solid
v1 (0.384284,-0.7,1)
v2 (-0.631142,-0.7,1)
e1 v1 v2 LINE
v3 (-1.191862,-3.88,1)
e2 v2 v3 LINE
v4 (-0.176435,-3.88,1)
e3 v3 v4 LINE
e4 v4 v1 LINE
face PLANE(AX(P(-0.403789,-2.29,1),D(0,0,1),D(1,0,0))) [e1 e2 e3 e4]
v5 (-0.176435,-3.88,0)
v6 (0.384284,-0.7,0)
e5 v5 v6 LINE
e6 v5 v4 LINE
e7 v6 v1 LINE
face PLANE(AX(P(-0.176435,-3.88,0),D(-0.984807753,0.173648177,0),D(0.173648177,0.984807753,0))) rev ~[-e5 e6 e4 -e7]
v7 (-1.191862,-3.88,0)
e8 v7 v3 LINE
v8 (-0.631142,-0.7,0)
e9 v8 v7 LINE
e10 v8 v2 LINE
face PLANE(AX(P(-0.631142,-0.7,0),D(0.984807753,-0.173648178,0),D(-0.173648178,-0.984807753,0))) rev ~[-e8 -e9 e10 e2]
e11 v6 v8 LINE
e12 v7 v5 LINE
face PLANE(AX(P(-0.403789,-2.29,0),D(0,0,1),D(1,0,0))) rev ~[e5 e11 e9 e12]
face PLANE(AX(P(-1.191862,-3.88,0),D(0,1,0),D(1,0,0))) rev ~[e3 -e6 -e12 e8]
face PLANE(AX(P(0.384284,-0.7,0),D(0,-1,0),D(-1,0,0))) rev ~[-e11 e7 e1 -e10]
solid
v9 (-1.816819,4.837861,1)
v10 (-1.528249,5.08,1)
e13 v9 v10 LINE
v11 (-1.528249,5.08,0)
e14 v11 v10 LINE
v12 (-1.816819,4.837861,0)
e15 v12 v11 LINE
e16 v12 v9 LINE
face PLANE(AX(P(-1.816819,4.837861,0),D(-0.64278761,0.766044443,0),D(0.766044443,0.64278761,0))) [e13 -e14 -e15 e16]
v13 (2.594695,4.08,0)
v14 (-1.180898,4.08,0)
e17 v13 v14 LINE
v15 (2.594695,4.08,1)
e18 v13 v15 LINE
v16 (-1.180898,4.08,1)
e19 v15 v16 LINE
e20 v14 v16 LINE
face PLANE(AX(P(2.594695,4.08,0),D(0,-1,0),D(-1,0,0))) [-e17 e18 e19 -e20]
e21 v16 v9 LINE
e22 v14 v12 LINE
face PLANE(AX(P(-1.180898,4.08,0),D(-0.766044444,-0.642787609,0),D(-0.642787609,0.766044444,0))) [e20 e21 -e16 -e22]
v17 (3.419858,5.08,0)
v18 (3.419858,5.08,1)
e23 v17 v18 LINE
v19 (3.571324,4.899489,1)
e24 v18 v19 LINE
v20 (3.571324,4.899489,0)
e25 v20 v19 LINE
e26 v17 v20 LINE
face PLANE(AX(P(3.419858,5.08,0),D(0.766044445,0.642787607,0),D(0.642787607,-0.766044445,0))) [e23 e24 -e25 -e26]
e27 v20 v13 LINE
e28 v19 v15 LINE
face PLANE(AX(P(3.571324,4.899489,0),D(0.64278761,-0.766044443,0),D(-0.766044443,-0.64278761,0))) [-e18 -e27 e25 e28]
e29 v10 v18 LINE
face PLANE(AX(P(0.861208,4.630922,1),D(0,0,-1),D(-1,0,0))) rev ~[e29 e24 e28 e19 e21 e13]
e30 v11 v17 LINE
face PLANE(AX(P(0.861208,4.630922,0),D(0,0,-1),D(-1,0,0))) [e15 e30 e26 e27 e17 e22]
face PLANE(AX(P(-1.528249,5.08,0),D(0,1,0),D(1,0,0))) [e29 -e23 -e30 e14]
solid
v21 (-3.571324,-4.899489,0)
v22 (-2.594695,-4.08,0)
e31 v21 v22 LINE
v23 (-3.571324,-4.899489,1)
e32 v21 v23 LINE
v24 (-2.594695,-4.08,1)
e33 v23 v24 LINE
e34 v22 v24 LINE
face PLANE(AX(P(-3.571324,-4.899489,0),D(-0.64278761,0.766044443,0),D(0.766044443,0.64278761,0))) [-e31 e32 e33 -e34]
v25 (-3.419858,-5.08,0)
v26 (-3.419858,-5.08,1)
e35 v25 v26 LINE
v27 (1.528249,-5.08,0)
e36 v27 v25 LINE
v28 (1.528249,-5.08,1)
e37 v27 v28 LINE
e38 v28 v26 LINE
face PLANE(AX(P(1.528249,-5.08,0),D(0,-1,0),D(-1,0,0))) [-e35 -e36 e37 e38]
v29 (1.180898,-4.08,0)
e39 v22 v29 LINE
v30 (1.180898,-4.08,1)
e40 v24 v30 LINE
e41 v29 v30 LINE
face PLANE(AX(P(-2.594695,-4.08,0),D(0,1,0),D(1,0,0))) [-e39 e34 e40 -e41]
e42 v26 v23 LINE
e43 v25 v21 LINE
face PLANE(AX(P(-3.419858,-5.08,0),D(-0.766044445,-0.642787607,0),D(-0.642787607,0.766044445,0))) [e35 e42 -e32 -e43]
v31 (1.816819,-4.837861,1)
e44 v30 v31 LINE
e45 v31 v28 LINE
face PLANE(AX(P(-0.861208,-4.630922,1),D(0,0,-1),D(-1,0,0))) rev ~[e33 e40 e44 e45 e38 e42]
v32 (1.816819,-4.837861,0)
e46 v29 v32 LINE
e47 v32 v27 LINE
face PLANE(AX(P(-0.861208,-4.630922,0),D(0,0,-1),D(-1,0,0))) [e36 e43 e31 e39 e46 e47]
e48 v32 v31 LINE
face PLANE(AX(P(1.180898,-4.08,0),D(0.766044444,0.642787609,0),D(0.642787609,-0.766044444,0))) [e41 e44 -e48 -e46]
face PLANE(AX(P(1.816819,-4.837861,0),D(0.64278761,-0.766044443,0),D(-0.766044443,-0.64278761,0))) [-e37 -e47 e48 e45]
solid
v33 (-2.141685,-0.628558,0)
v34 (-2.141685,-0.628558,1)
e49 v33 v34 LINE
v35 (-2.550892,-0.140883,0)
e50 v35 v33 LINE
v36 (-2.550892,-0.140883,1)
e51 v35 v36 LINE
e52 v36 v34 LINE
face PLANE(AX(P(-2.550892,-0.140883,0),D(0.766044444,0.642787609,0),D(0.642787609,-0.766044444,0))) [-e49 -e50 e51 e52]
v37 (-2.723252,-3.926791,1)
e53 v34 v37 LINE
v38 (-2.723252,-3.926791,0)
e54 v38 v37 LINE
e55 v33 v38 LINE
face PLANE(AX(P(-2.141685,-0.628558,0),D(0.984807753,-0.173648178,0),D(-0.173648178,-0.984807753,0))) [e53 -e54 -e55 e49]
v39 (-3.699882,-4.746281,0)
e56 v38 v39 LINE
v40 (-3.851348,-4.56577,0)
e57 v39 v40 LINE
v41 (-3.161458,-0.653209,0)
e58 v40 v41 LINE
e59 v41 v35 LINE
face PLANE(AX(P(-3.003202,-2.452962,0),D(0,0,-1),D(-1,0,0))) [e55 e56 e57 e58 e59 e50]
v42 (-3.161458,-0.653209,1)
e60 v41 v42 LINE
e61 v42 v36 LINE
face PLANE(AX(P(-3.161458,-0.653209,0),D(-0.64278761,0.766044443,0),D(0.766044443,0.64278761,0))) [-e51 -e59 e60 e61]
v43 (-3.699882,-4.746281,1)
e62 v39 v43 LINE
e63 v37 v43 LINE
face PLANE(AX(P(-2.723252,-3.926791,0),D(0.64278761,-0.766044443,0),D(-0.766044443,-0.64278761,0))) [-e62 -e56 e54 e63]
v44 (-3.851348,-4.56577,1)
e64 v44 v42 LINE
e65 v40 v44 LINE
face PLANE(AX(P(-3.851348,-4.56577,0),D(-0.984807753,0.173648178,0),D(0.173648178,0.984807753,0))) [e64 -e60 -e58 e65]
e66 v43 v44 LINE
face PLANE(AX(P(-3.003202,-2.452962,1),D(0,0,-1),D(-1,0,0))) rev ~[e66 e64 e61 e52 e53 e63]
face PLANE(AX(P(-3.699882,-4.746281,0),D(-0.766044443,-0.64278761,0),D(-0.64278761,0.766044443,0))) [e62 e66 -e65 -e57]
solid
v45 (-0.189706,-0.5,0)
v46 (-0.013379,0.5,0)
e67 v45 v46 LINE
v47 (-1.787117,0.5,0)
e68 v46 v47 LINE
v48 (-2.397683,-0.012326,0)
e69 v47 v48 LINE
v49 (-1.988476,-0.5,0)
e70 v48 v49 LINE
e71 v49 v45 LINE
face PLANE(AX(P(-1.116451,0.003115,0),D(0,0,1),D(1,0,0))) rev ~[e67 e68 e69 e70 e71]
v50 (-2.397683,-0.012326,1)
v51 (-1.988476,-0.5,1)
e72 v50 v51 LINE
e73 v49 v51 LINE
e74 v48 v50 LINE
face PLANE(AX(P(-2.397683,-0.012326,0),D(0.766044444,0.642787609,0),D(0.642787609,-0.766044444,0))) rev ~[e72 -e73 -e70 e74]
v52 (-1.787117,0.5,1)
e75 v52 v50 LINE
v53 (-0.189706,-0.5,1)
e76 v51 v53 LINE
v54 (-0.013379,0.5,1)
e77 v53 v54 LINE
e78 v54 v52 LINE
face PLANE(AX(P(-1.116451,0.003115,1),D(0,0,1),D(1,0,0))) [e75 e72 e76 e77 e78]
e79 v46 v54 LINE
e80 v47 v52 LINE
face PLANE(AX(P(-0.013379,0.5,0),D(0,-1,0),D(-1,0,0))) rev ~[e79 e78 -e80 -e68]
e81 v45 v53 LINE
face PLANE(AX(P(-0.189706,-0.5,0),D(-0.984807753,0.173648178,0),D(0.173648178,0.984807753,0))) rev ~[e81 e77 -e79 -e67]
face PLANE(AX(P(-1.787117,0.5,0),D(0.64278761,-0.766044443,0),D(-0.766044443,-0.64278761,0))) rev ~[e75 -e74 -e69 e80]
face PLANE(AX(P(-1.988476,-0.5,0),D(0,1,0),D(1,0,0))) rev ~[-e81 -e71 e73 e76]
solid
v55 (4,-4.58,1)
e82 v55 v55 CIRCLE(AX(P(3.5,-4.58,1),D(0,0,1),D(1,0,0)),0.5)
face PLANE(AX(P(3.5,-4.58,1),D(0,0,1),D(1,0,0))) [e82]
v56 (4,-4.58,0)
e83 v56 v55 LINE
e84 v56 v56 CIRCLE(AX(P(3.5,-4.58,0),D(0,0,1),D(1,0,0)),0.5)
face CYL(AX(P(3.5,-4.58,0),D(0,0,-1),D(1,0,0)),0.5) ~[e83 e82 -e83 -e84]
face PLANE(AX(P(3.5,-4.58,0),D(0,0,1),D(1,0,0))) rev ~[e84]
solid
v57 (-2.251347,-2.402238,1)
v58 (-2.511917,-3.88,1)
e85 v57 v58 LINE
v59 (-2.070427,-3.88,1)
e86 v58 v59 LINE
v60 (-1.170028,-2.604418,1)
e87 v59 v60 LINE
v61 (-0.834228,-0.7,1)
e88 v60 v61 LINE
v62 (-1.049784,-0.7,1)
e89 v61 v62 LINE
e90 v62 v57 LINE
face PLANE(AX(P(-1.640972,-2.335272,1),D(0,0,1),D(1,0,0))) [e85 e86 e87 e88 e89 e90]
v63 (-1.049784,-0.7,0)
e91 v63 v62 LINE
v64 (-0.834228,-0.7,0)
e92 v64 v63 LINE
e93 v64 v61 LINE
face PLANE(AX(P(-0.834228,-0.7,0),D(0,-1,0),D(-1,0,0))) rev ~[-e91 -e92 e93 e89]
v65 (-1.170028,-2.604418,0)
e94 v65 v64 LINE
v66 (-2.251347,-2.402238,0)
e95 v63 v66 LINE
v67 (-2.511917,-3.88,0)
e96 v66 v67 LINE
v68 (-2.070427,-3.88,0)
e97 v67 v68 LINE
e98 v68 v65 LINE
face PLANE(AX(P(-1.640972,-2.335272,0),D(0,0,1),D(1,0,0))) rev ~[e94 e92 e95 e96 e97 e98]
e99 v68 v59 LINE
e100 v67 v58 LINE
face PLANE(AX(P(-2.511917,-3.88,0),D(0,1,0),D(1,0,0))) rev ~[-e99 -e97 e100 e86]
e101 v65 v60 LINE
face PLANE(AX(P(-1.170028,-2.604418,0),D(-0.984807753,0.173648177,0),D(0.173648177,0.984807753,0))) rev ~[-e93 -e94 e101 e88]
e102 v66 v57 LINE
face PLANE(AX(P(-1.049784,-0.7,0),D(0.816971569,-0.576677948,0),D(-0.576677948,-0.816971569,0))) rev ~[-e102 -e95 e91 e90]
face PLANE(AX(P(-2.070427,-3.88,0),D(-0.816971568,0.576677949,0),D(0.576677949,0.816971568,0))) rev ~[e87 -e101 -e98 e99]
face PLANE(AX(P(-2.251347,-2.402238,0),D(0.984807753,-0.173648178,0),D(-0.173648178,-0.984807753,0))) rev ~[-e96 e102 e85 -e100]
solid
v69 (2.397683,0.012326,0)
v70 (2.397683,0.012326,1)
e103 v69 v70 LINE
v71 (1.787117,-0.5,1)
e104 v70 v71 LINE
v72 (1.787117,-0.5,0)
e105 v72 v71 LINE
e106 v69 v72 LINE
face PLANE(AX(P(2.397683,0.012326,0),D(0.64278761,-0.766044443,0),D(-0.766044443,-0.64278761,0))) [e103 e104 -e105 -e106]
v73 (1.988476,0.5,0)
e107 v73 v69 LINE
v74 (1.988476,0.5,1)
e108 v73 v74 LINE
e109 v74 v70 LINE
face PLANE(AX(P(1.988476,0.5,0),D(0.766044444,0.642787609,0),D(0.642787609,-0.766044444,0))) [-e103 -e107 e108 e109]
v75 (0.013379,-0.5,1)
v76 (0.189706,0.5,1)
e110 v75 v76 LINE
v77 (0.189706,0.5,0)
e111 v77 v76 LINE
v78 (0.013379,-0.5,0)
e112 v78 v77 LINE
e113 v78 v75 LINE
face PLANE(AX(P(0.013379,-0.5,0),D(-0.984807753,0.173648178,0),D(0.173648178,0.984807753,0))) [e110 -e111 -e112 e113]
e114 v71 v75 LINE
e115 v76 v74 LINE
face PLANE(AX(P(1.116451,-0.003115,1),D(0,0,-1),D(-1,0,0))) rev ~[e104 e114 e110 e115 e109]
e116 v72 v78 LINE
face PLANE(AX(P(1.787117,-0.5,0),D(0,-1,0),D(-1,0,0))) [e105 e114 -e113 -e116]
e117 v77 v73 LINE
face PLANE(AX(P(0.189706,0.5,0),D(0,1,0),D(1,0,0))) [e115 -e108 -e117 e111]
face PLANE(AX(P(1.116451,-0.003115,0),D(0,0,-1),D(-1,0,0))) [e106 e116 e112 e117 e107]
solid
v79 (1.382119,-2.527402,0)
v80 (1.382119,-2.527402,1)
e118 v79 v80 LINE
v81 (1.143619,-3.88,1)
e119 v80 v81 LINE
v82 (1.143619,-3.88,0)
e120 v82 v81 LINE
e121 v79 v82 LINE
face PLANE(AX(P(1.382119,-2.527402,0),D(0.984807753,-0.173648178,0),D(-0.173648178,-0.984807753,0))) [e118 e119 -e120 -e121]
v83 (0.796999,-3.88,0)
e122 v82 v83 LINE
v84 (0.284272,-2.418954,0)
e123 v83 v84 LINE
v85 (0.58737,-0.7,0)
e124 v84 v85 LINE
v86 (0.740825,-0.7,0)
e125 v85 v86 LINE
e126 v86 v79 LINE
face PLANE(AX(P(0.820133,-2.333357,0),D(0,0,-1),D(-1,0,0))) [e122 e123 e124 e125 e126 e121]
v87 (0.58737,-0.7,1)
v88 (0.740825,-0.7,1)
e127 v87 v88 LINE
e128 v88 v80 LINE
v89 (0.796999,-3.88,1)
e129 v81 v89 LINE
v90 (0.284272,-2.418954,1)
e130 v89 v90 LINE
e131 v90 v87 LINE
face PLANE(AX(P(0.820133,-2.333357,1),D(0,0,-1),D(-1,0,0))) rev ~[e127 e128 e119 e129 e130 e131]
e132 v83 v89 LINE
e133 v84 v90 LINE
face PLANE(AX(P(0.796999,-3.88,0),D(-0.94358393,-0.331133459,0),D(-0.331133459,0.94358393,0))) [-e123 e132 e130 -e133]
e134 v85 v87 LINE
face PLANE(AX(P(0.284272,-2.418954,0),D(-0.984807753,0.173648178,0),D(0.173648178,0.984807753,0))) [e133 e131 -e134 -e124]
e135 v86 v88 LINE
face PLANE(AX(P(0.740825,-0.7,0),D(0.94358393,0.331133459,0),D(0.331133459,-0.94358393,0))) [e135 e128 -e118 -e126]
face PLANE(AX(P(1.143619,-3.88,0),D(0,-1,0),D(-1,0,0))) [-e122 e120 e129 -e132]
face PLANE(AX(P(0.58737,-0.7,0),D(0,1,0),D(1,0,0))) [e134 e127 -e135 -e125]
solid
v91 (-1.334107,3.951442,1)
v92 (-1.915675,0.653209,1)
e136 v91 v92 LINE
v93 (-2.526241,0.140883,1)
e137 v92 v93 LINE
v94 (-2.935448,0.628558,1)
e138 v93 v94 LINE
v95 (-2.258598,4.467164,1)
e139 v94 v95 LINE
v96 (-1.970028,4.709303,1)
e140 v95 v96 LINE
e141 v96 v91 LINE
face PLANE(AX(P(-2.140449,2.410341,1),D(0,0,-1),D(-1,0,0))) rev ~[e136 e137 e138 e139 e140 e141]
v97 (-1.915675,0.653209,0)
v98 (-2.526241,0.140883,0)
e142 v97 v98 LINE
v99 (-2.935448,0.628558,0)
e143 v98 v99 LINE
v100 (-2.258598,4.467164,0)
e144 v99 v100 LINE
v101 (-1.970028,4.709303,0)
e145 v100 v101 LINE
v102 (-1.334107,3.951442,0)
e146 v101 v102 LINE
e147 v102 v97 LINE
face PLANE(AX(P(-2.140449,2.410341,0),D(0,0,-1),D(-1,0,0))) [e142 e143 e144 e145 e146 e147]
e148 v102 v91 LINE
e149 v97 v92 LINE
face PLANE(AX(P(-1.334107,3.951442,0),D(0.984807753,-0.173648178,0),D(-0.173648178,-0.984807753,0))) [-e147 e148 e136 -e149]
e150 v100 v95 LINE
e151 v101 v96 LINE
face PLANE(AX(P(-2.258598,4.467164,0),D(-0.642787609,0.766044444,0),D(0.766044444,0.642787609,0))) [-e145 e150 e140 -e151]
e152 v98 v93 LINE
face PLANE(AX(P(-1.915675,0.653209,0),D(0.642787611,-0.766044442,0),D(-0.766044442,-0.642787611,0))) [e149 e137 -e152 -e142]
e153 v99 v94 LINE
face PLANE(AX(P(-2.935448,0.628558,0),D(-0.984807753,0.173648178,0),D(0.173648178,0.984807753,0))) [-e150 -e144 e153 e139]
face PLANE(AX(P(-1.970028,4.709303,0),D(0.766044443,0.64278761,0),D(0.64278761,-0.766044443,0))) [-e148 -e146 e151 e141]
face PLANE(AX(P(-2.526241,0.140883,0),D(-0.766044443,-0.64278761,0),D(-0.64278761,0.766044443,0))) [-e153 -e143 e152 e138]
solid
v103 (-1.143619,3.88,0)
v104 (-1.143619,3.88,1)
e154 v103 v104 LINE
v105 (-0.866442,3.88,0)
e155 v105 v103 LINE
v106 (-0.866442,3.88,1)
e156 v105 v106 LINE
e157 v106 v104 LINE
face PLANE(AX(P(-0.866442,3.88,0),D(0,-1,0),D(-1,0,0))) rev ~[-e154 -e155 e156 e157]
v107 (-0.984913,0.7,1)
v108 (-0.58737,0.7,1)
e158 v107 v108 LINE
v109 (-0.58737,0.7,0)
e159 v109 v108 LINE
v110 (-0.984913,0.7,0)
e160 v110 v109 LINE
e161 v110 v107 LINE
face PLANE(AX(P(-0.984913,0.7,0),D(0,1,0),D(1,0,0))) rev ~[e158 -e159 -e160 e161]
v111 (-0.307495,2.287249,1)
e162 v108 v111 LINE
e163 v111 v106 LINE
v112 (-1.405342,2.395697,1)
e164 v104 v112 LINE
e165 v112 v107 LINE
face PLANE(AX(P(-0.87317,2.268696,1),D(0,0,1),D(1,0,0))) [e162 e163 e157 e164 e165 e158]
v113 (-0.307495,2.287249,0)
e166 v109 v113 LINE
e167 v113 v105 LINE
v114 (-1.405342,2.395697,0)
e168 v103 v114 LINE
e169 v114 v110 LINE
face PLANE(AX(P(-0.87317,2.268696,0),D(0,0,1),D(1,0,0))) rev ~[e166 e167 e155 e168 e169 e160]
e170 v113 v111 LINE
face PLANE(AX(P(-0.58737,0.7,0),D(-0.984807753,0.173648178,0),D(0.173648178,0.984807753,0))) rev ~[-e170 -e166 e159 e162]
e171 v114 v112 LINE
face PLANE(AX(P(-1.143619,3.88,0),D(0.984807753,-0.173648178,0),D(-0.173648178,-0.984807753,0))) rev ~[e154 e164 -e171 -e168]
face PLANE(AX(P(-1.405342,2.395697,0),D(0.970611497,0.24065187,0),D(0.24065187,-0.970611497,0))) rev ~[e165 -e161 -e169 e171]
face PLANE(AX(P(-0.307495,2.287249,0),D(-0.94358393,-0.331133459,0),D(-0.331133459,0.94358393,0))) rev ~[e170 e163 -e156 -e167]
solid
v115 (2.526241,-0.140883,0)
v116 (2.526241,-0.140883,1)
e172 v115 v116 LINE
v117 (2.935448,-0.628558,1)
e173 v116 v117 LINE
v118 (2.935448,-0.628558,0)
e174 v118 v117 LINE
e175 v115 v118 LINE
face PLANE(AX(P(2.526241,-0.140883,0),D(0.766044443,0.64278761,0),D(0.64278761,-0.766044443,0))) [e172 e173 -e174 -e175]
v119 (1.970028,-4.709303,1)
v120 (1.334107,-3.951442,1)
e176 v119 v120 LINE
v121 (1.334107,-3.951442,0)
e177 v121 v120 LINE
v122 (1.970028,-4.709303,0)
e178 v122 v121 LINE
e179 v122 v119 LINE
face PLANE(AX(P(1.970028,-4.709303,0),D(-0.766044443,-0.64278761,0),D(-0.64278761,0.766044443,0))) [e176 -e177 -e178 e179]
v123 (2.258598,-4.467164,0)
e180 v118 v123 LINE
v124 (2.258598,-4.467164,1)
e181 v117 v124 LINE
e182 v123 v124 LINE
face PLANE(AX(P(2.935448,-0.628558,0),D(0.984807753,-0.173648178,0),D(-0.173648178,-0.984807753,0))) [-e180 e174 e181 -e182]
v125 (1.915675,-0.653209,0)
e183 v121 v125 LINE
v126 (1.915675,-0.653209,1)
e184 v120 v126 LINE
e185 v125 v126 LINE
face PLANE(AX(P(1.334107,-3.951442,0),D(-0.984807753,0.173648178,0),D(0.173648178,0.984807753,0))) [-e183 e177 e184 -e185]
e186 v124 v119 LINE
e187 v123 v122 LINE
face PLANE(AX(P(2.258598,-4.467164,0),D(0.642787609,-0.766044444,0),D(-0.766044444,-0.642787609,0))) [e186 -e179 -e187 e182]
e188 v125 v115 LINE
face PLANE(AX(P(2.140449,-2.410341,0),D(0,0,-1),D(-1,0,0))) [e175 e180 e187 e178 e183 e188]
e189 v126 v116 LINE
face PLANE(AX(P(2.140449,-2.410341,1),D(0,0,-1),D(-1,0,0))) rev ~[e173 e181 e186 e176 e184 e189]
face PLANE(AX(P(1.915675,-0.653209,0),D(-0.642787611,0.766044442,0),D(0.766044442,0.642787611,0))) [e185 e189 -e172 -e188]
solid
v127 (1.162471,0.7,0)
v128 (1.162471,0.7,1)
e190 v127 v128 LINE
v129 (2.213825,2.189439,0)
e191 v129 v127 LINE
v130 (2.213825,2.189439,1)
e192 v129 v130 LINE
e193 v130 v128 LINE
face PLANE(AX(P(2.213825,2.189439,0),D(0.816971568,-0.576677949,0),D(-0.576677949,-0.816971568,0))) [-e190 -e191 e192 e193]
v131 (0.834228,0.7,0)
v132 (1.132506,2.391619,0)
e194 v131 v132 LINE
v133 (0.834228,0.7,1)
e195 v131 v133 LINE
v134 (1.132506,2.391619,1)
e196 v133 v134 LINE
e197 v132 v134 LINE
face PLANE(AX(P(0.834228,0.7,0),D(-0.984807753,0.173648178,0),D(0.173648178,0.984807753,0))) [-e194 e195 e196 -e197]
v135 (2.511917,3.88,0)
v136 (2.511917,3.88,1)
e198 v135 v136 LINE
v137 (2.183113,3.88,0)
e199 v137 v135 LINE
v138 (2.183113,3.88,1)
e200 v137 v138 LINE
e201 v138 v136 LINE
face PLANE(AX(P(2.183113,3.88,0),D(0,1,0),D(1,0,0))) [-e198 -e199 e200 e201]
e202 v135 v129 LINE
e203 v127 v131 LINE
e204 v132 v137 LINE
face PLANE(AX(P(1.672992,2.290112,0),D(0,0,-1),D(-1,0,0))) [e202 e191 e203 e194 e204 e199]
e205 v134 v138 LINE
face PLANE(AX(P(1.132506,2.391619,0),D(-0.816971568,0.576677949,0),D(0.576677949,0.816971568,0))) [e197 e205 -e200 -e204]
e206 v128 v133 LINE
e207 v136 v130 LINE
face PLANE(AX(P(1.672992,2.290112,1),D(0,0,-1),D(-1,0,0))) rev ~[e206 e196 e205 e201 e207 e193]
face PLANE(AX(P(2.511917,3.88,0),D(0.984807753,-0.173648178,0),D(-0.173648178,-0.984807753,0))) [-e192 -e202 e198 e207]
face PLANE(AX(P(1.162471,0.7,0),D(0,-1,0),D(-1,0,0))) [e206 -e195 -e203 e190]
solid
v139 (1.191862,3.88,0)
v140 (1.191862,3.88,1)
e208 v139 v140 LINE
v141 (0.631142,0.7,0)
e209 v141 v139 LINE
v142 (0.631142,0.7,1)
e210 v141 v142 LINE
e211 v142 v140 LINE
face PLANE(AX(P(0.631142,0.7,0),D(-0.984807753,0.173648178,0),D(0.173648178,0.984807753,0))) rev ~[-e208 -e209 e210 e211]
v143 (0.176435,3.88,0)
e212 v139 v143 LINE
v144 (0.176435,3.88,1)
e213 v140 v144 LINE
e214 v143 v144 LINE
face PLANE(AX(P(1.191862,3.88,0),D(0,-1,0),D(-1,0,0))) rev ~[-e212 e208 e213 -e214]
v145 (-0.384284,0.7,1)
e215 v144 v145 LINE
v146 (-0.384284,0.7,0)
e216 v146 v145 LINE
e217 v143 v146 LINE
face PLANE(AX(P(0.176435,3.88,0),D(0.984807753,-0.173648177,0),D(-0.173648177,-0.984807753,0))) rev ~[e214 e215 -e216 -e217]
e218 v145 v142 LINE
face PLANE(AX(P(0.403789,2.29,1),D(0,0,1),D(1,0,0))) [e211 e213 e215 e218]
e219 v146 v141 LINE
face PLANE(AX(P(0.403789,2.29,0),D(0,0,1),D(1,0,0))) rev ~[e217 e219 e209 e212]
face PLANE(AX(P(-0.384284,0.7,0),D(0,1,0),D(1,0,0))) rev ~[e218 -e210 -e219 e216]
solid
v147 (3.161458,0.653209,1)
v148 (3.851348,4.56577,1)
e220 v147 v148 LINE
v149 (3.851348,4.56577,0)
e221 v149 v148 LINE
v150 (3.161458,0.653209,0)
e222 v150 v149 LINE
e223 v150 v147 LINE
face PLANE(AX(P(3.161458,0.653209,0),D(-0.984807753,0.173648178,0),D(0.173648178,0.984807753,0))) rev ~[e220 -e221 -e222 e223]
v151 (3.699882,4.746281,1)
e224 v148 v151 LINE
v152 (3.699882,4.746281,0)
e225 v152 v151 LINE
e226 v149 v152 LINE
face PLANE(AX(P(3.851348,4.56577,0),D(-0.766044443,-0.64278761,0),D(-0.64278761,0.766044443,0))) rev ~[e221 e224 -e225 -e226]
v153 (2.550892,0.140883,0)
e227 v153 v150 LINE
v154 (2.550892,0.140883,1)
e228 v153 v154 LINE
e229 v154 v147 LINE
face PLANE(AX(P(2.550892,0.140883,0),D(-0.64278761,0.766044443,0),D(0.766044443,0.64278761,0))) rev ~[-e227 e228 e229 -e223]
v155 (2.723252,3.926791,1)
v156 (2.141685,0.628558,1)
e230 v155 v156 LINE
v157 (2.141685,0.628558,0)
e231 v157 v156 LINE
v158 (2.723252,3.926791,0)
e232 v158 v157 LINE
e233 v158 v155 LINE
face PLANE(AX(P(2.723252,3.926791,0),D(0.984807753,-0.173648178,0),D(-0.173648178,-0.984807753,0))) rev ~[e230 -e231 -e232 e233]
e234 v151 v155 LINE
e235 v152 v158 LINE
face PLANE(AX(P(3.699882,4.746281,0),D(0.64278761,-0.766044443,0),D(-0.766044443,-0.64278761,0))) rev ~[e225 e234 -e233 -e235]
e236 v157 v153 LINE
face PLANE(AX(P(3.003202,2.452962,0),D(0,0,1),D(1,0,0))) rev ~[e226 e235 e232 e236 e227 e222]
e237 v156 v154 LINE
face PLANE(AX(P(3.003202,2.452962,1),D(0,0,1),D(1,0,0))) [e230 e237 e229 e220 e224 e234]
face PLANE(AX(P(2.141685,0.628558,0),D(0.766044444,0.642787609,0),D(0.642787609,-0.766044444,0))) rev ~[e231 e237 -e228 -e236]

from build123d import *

# Parameters (mm, degrees)
EXTRUDE_1_DEPTH   = 1
EXTRUDE_1_2_DEPTH = 1
EXTRUDE_1_3_DEPTH = 1
EXTRUDE_1_4_DEPTH = 1
EXTRUDE_1_5_DEPTH = 1
EXTRUDE_1_6_DEPTH = 1
EXTRUDE_1_7_DEPTH = 1
EXTRUDE_1_8_DEPTH = 1
EXTRUDE_2_DEPTH   = 1
EXTRUDE_2_2_DEPTH = 1
SKETCH_8_R        = 0.5
EXTRUDE_3_DEPTH   = 1
EXTRUDE_4_DEPTH   = 1
EXTRUDE_4_2_DEPTH = 1
EXTRUDE_4_3_DEPTH = 1
EXTRUDE_4_4_DEPTH = 1


with BuildPart() as part:
    # Эскиз5 → Бобышка-Вытянуть1 (new body)
    with BuildSketch(Plane.XY):
        Polygon((-2.935448186, 0.628557522), (-2.258598217, 4.467164446), (-1.970028174, 4.709303462), (-1.334107302, 3.951442478), (-1.915674873, 0.653208889), (-2.526240846, 0.140883205), align=None)
    extrude(amount=EXTRUDE_1_DEPTH)


with BuildPart() as body_2:
    # Эскиз5 → Extrude 1 2 (new body)
    with BuildSketch(Plane.XY):
        Polygon((-3.161458187, -0.653208889), (-2.550892213, -0.140883205), (-2.141684874, -0.628557522), (-2.723252444, -3.926791111), (-3.699881881, -4.746280512), (-3.851348259, -4.565769912), align=None)
    extrude(amount=EXTRUDE_1_2_DEPTH)


with BuildPart() as body_3:
    # Эскиз5 → Extrude 1 3 (new body)
    with BuildSketch(Plane.XY):
        Polygon((-3.571324359, -4.8994894), (-2.594694922, -4.08), (1.180898414, -4.08), (1.816819285, -4.837860984), (1.528249243, -5.08), (-3.419857982, -5.08), align=None)
    extrude(amount=EXTRUDE_1_3_DEPTH)


with BuildPart() as body_4:
    # Эскиз5 → Extrude 1 4 (new body)
    with BuildSketch(Plane.XY):
        Polygon((1.915674873, -0.653208889), (2.526240846, -0.140883205), (2.935448186, -0.628557522), (2.258598217, -4.467164446), (1.970028174, -4.709303462), (1.334107302, -3.951442478), align=None)
    extrude(amount=EXTRUDE_1_4_DEPTH)


with BuildPart() as body_5:
    # Эскиз5 → Extrude 1 5 (new body)
    with BuildSketch(Plane.XY):
        Polygon((2.141684874, 0.628557522), (2.550892213, 0.140883205), (3.161458187, 0.653208889), (3.851348259, 4.565769912), (3.699881881, 4.746280512), (2.723252444, 3.926791111), align=None)
    extrude(amount=EXTRUDE_1_5_DEPTH)


with BuildPart() as body_6:
    # Эскиз5 → Extrude 1 6 (new body)
    with BuildSketch(Plane.XY):
        Polygon((-1.816819285, 4.837860984), (-1.528249243, 5.08), (3.419857982, 5.08), (3.571324359, 4.8994894), (2.594694922, 4.08), (-1.180898414, 4.08), align=None)
    extrude(amount=EXTRUDE_1_6_DEPTH)


with BuildPart() as body_7:
    # Эскиз5 → Extrude 1 7 (new body)
    with BuildSketch(Plane.XY):
        Polygon((-1.988475985, -0.5), (-0.189706152, -0.5), (-0.013379171, 0.5), (-1.787117351, 0.5), (-2.397683324, -0.012325683), align=None)
    extrude(amount=EXTRUDE_1_7_DEPTH)


with BuildPart() as body_8:
    # Эскиз5 → Extrude 1 8 (new body)
    with BuildSketch(Plane.XY):
        Polygon((0.189706152, 0.5), (1.988475985, 0.5), (2.397683324, 0.012325683), (1.787117351, -0.5), (0.013379171, -0.5), align=None)
    extrude(amount=EXTRUDE_1_8_DEPTH)


with BuildPart() as body_9:
    # Эскиз6 → Бобышка-Вытянуть2 (new body)
    with BuildSketch(Plane.XY):
        Polygon((-0.384284419, 0.7), (0.631142192, 0.7), (1.191861991, 3.88), (0.176435379, 3.88), align=None)
    extrude(amount=EXTRUDE_2_DEPTH)


with BuildPart() as body_10:
    # Эскиз6 → Extrude 2 2 (new body)
    with BuildSketch(Plane.XY):
        Polygon((-0.631142192, -0.7), (-1.191861991, -3.88), (-0.176435379, -3.88), (0.384284419, -0.7), align=None)
    extrude(amount=EXTRUDE_2_2_DEPTH)


with BuildPart() as body_11:
    # Эскиз8 → Бобышка-Вытянуть3 (new body)
    with BuildSketch(Plane.XY):
        with Locations((3.5, -4.58)):
            Circle(SKETCH_8_R)
    extrude(amount=EXTRUDE_3_DEPTH)


with BuildPart() as body_12:
    # Эскиз7 → Бобышка-Вытянуть4 (new body)
    with BuildSketch(Plane.XY):
        Polygon((-2.251347225, -2.40223772), (-2.511916587, -3.88), (-2.070426511, -3.88), (-1.170027732, -2.604417668), (-0.834227515, -0.7), (-1.049784045, -0.7), align=None)
    extrude(amount=EXTRUDE_4_DEPTH)


with BuildPart() as body_13:
    # Эскиз7 → Extrude 4 2 (new body)
    with BuildSketch(Plane.XY):
        Polygon((0.587369742, -0.7), (0.740825314, -0.7), (1.382118658, -2.52740245), (1.143619216, -3.88), (0.796998801, -3.88), (0.284271691, -2.418954467), align=None)
    extrude(amount=EXTRUDE_4_2_DEPTH)


with BuildPart() as body_14:
    # Эскиз7 → Extrude 4 3 (new body)
    with BuildSketch(Plane.XY):
        Polygon((2.183113044, 3.88), (2.511916587, 3.88), (2.213825111, 2.189439235), (1.162470577, 0.7), (0.834227515, 0.7), (1.132505618, 2.391619183), align=None)
    extrude(amount=EXTRUDE_4_3_DEPTH)


with BuildPart() as body_15:
    # Эскиз7 → Extrude 4 4 (new body)
    with BuildSketch(Plane.XY):
        Polygon((-0.984913448, 0.7), (-0.587369742, 0.7), (-0.307494907, 2.28724906), (-0.866441612, 3.88), (-1.143619216, 3.88), (-1.405341875, 2.395697044), align=None)
    extrude(amount=EXTRUDE_4_4_DEPTH)


solid = Compound([part.part, body_2.part, body_3.part, body_4.part, body_5.part, body_6.part, body_7.part, body_8.part, body_9.part, body_10.part, body_11.part, body_12.part, body_13.part, body_14.part, body_15.part])
